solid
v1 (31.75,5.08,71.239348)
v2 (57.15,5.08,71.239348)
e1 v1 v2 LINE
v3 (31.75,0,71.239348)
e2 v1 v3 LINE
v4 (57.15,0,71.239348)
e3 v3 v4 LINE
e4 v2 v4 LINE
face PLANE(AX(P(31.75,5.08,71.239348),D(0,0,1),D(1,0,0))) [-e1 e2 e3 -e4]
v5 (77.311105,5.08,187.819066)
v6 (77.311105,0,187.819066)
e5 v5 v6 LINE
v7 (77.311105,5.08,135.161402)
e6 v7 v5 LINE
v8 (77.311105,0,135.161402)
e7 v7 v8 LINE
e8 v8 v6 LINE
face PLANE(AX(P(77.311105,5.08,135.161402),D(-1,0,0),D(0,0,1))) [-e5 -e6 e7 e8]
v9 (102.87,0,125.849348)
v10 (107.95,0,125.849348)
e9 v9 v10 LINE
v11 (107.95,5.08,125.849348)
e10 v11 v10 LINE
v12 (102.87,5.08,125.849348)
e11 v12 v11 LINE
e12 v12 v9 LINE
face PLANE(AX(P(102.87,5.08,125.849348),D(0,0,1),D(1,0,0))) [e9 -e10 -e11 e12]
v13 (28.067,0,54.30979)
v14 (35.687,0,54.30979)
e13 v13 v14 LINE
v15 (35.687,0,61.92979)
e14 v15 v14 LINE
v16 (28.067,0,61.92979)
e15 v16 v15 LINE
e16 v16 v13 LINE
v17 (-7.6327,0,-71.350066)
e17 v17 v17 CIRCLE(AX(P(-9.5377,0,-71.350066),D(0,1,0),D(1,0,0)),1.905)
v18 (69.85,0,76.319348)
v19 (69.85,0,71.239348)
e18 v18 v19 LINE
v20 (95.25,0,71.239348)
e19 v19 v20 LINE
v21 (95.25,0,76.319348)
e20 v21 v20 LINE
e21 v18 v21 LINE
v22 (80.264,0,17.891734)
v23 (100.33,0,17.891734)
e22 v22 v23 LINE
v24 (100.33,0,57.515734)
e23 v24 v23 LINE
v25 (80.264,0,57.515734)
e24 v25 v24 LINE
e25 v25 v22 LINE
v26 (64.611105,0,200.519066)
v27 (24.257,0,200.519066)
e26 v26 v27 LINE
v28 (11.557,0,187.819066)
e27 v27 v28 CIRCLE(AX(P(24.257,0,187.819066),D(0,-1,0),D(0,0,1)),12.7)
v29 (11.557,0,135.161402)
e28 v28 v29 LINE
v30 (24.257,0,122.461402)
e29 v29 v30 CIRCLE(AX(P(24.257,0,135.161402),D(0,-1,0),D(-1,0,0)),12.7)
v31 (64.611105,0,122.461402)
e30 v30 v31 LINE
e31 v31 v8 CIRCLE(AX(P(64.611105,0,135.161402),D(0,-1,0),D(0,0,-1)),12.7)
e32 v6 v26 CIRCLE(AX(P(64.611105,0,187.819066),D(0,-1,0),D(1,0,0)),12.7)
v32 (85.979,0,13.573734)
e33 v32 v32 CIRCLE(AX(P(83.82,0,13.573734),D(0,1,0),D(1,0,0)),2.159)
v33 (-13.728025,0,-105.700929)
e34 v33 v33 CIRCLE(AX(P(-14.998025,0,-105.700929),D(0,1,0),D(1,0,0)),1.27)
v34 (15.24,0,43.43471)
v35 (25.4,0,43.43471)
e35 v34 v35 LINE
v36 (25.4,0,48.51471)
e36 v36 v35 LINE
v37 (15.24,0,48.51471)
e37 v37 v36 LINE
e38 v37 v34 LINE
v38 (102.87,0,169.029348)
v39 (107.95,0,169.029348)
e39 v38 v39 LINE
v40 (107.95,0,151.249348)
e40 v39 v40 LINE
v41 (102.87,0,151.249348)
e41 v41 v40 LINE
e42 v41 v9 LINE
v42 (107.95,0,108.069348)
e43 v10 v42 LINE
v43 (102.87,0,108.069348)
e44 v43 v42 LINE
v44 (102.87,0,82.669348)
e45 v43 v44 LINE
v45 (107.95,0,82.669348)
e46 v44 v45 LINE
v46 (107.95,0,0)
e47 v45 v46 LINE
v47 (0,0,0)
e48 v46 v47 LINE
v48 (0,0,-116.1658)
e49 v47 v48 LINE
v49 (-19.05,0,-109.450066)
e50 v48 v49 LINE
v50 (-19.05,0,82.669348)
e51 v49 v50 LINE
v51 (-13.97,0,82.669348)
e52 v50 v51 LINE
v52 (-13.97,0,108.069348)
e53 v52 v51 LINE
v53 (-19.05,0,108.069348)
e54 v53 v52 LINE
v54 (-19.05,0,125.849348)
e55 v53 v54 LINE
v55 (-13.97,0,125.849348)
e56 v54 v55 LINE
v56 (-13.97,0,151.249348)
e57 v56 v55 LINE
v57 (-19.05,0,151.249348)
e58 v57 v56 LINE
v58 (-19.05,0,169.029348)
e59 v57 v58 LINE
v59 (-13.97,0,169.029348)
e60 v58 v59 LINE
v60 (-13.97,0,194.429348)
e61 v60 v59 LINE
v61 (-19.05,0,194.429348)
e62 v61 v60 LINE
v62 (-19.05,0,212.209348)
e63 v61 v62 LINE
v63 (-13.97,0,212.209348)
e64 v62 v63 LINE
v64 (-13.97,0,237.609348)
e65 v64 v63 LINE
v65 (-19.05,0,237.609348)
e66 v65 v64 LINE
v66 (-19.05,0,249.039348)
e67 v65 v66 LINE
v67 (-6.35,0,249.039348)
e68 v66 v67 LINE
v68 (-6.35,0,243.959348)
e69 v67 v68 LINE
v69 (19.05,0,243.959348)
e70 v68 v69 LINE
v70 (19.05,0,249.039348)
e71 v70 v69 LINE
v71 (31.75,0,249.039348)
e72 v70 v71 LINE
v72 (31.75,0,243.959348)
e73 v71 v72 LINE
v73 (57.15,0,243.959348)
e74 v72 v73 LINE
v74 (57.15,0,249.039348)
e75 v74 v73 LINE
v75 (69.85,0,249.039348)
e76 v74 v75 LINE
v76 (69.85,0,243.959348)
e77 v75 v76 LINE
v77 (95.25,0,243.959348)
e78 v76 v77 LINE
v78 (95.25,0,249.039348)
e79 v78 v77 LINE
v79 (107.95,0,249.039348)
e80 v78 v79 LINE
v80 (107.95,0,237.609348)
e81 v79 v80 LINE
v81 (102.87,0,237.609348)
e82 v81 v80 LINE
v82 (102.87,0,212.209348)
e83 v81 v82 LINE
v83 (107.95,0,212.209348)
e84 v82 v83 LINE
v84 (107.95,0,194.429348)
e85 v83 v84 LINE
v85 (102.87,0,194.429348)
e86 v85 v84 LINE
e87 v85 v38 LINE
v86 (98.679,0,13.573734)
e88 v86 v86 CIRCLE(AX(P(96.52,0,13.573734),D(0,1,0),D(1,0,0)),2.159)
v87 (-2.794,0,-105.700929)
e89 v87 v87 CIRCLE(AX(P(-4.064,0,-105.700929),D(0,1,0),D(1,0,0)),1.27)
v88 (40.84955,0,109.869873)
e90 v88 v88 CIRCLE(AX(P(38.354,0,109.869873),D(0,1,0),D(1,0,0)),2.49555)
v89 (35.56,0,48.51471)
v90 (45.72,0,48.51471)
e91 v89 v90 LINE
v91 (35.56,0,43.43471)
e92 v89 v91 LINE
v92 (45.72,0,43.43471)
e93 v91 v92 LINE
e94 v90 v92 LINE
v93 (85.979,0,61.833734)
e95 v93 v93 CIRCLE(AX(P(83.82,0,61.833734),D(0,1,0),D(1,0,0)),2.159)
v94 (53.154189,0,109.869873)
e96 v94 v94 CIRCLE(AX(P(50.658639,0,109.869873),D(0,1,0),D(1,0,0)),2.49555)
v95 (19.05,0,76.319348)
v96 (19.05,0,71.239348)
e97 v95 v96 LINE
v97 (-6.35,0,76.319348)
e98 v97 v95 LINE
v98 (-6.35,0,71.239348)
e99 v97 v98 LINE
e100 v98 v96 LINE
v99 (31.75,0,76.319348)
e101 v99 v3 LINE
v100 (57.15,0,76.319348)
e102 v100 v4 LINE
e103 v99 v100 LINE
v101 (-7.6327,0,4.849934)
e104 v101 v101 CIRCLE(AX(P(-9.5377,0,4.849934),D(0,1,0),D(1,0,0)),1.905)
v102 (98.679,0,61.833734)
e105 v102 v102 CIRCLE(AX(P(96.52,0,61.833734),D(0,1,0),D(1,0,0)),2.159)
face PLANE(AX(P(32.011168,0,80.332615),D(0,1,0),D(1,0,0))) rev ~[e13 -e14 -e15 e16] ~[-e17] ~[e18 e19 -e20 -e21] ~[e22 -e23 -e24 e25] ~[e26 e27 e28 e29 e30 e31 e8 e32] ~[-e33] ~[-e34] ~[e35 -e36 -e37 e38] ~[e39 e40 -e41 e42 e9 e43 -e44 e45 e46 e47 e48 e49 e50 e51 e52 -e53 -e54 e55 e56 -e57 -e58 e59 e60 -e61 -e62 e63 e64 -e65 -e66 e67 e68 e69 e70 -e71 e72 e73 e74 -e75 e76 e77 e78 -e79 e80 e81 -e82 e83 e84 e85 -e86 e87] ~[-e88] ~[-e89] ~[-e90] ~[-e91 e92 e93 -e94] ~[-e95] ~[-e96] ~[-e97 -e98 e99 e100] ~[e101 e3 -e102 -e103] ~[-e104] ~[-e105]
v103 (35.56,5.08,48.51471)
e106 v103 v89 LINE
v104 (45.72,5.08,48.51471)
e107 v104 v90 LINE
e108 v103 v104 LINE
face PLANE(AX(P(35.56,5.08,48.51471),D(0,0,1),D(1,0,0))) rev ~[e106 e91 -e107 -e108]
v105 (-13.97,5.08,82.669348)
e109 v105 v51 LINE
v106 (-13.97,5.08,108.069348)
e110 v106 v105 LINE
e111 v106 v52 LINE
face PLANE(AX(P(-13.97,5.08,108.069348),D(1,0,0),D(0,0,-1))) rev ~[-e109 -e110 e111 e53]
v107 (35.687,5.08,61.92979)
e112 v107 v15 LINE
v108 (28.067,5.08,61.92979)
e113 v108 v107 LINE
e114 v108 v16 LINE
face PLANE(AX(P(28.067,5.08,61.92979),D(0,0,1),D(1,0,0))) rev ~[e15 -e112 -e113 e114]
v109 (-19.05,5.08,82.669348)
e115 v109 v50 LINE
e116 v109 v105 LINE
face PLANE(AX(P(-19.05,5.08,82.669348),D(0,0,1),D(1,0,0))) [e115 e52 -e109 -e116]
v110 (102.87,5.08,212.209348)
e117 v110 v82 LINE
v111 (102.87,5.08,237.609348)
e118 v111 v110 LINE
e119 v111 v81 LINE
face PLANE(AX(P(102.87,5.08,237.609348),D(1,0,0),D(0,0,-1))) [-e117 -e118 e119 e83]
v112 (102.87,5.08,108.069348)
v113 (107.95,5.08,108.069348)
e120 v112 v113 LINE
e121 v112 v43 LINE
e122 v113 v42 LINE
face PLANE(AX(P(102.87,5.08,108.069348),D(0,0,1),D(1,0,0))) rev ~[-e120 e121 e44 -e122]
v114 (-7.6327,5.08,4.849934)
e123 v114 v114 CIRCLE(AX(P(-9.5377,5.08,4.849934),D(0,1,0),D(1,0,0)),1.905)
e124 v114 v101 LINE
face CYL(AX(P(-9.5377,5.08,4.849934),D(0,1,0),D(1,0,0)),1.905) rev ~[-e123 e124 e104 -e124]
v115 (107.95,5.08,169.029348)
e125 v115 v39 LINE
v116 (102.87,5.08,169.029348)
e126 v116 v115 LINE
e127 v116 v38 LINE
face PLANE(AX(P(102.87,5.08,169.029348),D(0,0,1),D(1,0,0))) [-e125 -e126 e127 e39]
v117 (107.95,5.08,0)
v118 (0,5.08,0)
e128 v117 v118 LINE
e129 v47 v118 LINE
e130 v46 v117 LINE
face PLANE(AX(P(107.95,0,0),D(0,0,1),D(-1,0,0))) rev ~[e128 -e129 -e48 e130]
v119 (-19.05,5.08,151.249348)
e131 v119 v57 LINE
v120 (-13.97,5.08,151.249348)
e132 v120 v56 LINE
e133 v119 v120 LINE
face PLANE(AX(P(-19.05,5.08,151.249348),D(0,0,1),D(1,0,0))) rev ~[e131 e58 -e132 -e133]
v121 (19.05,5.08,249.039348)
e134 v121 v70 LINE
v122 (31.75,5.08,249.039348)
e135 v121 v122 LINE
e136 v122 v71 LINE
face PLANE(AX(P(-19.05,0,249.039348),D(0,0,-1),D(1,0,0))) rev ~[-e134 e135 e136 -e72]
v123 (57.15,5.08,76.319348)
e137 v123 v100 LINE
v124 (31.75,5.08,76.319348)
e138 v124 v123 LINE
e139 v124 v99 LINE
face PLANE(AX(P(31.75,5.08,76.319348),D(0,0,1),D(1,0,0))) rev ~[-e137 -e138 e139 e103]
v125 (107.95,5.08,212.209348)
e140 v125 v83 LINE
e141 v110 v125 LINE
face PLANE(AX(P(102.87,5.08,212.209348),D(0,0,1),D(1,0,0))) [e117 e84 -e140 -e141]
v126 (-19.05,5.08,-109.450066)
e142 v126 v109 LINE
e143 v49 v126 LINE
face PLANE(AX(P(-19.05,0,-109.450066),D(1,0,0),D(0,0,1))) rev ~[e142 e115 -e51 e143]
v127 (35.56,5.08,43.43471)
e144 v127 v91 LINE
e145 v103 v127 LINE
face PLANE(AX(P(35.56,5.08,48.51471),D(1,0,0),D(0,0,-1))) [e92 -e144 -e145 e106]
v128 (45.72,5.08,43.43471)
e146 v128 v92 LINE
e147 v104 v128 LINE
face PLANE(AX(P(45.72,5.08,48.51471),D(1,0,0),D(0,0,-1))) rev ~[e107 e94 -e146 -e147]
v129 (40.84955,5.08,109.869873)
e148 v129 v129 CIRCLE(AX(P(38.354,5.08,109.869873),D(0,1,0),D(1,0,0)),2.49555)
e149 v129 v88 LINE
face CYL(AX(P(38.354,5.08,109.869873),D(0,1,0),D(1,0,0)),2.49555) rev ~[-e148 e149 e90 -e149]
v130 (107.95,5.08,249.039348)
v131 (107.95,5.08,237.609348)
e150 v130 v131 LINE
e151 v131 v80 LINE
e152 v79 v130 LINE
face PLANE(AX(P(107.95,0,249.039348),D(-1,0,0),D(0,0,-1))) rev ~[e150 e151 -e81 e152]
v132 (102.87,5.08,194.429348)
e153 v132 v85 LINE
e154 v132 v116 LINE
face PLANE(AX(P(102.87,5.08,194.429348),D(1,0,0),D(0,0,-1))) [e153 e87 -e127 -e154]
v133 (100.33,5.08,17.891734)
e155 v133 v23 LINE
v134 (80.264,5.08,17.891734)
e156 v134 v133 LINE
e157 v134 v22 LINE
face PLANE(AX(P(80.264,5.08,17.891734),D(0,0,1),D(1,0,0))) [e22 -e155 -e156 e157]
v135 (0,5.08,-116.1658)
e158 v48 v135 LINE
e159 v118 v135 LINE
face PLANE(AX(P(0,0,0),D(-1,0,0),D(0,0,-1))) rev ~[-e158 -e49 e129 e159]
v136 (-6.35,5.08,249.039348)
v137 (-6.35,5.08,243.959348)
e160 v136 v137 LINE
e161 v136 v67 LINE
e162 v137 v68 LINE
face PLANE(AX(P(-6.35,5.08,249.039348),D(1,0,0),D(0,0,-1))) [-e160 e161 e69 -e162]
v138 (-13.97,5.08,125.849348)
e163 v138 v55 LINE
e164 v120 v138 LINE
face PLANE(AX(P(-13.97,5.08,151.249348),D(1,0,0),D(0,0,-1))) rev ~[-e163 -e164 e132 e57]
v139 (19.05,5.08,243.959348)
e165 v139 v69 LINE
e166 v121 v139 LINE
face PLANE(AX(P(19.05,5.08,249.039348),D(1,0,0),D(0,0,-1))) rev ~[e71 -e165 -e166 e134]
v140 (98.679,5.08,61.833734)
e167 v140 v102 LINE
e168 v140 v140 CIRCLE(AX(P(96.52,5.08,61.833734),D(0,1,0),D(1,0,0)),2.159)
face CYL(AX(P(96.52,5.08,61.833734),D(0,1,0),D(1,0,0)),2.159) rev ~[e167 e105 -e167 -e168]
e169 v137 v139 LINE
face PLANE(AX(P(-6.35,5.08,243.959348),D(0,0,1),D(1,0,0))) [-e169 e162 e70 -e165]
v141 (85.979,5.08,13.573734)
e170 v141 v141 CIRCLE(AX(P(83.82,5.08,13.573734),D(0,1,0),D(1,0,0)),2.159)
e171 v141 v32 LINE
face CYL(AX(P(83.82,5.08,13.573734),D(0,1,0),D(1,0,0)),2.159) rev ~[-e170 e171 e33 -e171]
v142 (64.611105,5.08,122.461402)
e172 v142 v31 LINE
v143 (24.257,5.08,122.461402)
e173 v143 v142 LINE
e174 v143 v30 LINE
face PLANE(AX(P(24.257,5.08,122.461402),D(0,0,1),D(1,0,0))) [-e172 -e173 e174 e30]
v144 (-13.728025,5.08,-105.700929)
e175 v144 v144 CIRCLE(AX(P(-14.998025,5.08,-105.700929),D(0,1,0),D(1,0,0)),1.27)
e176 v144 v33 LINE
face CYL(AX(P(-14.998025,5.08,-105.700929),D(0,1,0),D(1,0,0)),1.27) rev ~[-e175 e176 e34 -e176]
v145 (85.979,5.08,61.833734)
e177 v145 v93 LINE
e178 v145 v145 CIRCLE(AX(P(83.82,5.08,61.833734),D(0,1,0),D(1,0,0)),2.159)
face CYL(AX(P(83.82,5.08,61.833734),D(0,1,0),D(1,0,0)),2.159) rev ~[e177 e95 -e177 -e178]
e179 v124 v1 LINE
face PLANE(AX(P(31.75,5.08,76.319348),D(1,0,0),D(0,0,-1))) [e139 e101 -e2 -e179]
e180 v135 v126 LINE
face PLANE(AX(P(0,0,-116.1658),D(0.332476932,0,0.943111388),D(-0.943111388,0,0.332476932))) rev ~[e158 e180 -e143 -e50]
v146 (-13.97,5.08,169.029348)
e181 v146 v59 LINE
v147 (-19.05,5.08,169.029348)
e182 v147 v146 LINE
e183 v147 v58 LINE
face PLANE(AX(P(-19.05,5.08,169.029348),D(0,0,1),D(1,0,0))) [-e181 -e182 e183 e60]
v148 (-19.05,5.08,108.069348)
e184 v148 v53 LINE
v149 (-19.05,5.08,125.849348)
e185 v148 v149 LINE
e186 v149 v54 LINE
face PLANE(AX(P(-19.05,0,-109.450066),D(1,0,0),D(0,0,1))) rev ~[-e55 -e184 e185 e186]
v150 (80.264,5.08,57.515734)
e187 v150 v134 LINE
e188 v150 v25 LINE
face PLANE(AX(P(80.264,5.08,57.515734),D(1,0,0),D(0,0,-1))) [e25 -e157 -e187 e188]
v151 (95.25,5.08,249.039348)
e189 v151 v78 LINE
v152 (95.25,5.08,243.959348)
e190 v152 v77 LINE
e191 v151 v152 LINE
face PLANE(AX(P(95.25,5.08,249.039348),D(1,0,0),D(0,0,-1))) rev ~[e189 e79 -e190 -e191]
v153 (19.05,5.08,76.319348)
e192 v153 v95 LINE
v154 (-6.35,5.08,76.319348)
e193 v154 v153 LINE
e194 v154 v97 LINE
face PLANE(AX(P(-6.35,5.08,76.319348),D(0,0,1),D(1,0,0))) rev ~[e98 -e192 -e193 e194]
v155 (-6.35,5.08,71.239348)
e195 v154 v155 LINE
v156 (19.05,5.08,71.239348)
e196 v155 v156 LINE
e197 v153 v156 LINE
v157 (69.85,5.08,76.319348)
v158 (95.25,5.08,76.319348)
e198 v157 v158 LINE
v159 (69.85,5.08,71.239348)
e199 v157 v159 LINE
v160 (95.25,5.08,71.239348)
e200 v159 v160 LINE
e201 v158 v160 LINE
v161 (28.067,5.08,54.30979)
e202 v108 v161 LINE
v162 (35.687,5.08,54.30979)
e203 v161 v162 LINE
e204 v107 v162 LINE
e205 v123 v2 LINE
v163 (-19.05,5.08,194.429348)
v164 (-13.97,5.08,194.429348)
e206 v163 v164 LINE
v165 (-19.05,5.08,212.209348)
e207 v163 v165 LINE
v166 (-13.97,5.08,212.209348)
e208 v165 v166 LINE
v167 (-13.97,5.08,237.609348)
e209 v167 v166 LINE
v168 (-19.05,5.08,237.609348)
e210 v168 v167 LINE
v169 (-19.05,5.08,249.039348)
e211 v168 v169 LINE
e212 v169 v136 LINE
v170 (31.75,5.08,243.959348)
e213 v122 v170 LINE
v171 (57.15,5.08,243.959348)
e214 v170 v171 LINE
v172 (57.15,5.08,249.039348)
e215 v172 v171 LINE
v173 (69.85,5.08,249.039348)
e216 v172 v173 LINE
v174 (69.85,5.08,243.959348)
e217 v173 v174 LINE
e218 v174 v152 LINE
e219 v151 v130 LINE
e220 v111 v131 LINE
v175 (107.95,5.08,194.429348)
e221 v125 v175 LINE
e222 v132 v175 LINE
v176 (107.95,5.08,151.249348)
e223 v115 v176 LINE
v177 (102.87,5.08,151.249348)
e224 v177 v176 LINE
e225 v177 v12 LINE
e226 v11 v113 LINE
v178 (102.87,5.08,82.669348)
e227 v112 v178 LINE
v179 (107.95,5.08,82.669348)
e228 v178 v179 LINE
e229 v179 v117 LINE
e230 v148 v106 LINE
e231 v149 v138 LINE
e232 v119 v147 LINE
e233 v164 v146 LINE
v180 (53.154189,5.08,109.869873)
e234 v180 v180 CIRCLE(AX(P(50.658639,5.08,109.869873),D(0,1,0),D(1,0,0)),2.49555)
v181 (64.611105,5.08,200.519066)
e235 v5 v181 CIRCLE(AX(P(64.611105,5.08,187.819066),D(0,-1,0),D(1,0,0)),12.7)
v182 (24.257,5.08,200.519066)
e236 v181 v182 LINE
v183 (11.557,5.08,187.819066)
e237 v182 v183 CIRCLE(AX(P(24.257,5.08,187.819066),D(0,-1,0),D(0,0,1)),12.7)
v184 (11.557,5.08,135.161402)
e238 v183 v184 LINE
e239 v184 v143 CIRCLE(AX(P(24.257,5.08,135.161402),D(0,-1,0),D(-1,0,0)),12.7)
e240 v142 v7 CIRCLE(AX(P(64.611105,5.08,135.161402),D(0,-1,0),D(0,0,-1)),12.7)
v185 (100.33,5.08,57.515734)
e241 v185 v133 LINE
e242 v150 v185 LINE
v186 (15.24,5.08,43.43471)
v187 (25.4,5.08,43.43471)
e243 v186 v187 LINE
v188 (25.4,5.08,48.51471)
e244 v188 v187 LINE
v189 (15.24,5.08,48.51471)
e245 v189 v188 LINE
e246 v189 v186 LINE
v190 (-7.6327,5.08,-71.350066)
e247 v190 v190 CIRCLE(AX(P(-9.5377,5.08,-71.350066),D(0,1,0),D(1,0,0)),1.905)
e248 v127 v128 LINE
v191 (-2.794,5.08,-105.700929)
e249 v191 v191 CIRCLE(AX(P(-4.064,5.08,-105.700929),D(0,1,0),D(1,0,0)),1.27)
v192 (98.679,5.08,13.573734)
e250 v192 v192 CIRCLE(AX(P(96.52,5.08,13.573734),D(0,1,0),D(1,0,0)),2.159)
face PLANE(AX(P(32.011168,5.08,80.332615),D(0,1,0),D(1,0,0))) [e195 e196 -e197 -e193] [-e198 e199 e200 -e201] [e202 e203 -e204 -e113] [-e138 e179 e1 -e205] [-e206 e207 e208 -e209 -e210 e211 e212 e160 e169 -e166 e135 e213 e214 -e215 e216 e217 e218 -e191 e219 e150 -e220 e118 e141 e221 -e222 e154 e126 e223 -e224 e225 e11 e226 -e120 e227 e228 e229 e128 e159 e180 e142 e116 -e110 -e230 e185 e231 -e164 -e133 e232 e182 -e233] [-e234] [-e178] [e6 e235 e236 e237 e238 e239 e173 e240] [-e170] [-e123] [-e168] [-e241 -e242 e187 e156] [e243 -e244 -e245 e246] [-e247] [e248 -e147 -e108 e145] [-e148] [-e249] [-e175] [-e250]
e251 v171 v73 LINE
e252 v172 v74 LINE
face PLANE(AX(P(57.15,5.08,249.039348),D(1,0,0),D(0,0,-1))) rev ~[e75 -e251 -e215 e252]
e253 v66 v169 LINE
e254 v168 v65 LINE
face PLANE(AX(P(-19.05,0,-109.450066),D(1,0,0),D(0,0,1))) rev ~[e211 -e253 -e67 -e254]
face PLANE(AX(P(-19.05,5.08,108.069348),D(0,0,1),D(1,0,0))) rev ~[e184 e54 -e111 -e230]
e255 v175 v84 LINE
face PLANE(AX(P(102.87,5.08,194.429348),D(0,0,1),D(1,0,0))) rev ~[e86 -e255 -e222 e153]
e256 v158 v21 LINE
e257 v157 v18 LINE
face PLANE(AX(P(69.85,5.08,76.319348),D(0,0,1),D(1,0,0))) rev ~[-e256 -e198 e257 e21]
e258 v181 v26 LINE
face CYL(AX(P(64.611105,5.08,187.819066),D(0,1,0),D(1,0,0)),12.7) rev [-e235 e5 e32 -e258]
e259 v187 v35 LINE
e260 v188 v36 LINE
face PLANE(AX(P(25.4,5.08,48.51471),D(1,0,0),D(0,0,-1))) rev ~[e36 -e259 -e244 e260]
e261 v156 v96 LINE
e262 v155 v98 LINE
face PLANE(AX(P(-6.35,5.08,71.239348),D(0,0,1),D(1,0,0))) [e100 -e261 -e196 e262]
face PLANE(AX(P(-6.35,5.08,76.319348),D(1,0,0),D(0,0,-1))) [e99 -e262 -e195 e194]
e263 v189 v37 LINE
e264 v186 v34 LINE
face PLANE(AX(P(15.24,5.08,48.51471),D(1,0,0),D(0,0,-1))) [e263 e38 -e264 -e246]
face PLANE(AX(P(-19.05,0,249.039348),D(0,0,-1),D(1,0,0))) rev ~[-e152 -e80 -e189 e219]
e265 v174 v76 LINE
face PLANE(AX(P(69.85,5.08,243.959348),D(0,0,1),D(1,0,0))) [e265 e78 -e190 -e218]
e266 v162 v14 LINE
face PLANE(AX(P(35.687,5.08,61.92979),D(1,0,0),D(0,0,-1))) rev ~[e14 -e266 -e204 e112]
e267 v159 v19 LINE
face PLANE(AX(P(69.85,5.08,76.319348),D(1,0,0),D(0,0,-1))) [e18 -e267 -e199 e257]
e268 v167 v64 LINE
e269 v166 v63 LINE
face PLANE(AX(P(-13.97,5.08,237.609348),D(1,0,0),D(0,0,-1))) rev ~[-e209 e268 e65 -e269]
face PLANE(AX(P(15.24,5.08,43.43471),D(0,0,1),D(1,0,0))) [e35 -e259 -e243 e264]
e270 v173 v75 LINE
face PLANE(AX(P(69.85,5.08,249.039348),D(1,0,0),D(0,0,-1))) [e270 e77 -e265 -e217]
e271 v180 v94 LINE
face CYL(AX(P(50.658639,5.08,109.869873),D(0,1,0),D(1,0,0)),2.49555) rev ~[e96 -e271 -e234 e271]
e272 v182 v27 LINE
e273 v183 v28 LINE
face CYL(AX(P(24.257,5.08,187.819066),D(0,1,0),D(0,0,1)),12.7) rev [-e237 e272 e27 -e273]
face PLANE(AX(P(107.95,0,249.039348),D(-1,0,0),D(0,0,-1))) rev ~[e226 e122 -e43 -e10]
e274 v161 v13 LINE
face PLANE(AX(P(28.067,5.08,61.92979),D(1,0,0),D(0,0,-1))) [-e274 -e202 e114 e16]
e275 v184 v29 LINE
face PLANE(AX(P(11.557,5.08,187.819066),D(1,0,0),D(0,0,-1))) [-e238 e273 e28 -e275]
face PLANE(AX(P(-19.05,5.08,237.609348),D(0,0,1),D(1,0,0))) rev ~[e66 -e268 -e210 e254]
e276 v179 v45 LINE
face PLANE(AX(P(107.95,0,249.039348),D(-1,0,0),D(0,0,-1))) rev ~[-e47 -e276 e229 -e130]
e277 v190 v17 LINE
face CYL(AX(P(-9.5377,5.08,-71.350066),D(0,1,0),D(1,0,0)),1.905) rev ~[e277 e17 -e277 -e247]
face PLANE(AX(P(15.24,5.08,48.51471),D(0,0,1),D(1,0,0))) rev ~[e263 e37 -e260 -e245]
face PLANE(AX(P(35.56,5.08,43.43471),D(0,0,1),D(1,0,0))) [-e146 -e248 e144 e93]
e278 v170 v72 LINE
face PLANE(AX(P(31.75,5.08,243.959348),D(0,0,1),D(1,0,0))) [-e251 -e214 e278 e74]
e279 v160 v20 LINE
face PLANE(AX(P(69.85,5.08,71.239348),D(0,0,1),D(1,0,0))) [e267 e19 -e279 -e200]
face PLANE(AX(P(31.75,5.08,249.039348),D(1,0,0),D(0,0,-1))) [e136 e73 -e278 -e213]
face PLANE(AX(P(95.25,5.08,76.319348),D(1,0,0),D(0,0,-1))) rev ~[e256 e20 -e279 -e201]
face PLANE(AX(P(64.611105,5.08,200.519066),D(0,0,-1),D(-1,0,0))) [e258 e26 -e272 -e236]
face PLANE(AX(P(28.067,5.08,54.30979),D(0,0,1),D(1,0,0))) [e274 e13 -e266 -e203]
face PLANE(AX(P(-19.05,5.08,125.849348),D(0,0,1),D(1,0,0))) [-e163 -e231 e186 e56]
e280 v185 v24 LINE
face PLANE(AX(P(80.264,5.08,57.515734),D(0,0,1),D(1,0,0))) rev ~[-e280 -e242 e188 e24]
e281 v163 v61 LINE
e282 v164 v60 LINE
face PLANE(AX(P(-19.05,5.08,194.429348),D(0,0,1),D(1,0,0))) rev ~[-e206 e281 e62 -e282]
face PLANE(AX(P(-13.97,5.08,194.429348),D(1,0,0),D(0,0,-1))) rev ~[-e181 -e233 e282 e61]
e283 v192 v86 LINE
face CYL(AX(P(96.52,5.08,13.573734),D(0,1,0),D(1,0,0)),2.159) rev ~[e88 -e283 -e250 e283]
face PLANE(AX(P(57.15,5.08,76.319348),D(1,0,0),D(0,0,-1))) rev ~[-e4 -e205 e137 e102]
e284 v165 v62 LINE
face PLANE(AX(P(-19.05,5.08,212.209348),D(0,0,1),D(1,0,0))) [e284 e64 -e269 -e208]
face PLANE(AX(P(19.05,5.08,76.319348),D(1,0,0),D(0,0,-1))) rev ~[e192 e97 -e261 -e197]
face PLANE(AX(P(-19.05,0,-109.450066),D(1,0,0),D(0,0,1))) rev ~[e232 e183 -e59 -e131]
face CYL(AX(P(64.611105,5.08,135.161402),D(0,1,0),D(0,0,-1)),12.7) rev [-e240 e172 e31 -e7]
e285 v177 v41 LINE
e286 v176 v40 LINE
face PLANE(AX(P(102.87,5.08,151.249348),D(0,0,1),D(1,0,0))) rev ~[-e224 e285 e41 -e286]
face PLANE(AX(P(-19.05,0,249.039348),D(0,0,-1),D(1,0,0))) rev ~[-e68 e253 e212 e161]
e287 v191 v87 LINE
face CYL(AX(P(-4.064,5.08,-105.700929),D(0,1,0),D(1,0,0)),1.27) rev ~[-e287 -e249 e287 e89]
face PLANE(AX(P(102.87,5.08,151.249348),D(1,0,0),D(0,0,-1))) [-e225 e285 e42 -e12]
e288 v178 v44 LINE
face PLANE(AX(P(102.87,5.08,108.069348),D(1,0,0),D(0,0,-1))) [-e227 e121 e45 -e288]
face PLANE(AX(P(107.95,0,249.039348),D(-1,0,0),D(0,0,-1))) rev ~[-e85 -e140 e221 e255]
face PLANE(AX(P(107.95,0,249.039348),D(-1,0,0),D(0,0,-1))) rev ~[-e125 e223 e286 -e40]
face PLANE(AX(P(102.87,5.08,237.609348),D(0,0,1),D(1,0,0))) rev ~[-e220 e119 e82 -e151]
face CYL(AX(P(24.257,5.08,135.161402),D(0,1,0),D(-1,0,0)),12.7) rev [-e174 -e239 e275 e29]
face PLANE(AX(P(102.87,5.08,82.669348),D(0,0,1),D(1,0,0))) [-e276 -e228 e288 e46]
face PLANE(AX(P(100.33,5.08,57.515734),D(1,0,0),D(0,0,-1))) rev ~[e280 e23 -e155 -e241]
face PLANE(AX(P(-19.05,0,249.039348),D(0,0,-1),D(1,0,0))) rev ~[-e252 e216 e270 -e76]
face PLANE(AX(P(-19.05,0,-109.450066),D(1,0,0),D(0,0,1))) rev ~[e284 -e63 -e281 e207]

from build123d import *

# Parameters (mm, degrees)
BOSS_EXTRUDE1_DEPTH = 5.08
SKETCH3_W           = 20.066
SKETCH3_H           = 39.624
CUT_EXTRUDE1_DEPTH  = 5.08
SKETCH4_R           = 2.159
CUT_EXTRUDE2_DEPTH  = 5.08
CUT_EXTRUDE3_DEPTH  = 5.08
SKETCH6_W           = 5.08
SKETCH6_H           = 25.4
CUT_EXTRUDE4_DEPTH  = 5.08
SKETCH7_W           = 5.08
SKETCH7_H           = 25.4
CUT_EXTRUDE5_DEPTH  = 5.08
SKETCH8_W           = 5.08
SKETCH8_H           = 25.4
CUT_EXTRUDE6_DEPTH  = 5.08
SKETCH9_W           = 5.08
SKETCH9_H           = 25.4
CUT_EXTRUDE7_DEPTH  = 5.08
SKETCH10_W          = 25.4
SKETCH10_H          = 5.08
CUT_EXTRUDE8_DEPTH  = 5.08
SKETCH11_W          = 25.4
SKETCH11_H          = 5.08
CUT_EXTRUDE9_DEPTH  = 5.08
SKETCH12_R          = 1.27
CUT_EXTRUDE10_DEPTH = 5.08
SKETCH13_W          = 10.16
SKETCH13_H          = 5.08
CUT_EXTRUDE11_DEPTH = 5.08
SKETCH14_W          = 7.62
SKETCH14_H          = 7.62
CUT_EXTRUDE12_DEPTH = 5.08
SKETCH15_R          = 1.905
CUT_EXTRUDE13_DEPTH = 5.08
SKETCH16_R          = 2.49555
CUT_EXTRUDE14_DEPTH = 5.08


with BuildPart() as part:
    # Sketch2 → Boss-Extrude1 (new body)
    with BuildSketch(Plane(origin=(0, 0, 0), x_dir=(1, 0, 0), z_dir=(0, 1, 0))):
        Polygon((-19.05, -71.23934806), (-19.05, -249.03934806), (107.95, -249.03934806), (107.95, -60.96), (107.95, 0), (0, 0), (0, 65.786), (0, 97.473109619), (0, 116.165799875), (-19.05, 109.450065503), align=None)
    extrude(amount=BOSS_EXTRUDE1_DEPTH)

    # Sketch3 → Cut-Extrude1 (cut)
    with BuildSketch(Plane(origin=(0, 5.08, 0), x_dir=(1, 0, 0), z_dir=(0, 1, 0))):
        with Locations((90.297, -37.703734372)):
            Rectangle(SKETCH3_W, SKETCH3_H)
    extrude(amount=-CUT_EXTRUDE1_DEPTH, mode=Mode.SUBTRACT)

    # Sketch4 → Cut-Extrude2 (cut)
    with BuildSketch(Plane(origin=(0, 5.08, 0), x_dir=(1, 0, 0), z_dir=(0, 1, 0))):
        with Locations((83.82, -13.573734372)):
            Circle(SKETCH4_R)
        with Locations((96.52, -13.573734372)):
            Circle(SKETCH4_R)
        with Locations((83.82, -61.833734372)):
            Circle(SKETCH4_R)
        with Locations((96.52, -61.833734372)):
            Circle(SKETCH4_R)
    extrude(amount=-CUT_EXTRUDE2_DEPTH, mode=Mode.SUBTRACT)

    # Sketch5 → Cut-Extrude3 (cut)
    with BuildSketch(Plane(origin=(0, 5.08, 0), x_dir=(1, 0, 0), z_dir=(0, 1, 0))):
        with BuildLine():
            Line((24.257, -122.461402467), (64.611105155, -122.461402467))
            ThreePointArc((64.611105155, -122.461402467), (73.591361276, -126.181146346), (77.311105155, -135.161402467))
            Line((77.311105155, -135.161402467), (77.311105155, -187.819065756))
            ThreePointArc((77.311105155, -187.819065756), (73.591361276, -196.799321877), (64.611105155, -200.519065756))
            Line((64.611105155, -200.519065756), (24.257, -200.519065756))
            ThreePointArc((24.257, -200.519065756), (15.276743879, -196.799321877), (11.557, -187.819065756))
            Line((11.557, -187.819065756), (11.557, -135.161402467))
            ThreePointArc((11.557, -135.161402467), (15.276743879, -126.181146346), (24.257, -122.461402467))
        make_face()
    extrude(amount=-CUT_EXTRUDE3_DEPTH, mode=Mode.SUBTRACT)

    # Sketch6 → Cut-Extrude4 (cut)
    with BuildSketch(Plane(origin=(0, 5.08, 0), x_dir=(1, 0, 0), z_dir=(0, 1, 0))):
        with Locations((105.41, -224.90934806)):
            Rectangle(SKETCH6_W, SKETCH6_H)
    extrude(amount=-CUT_EXTRUDE4_DEPTH, mode=Mode.SUBTRACT)

    # Sketch7 → Cut-Extrude5 (cut)
    with BuildSketch(Plane(origin=(0, 5.08, 0), x_dir=(1, 0, 0), z_dir=(0, 1, 0))):
        with Locations((105.41, -181.72934806)):
            Rectangle(SKETCH7_W, SKETCH7_H)
    extrude(amount=-CUT_EXTRUDE5_DEPTH, mode=Mode.SUBTRACT)

    # Sketch8 → Cut-Extrude6 (cut)
    with BuildSketch(Plane(origin=(0, 5.08, 0), x_dir=(1, 0, 0), z_dir=(0, 1, 0))):
        with Locations((105.41, -138.54934806)):
            Rectangle(SKETCH8_W, SKETCH8_H)
        with Locations((105.41, -95.36934806)):
            Rectangle(SKETCH8_W, SKETCH8_H)
    extrude(amount=-CUT_EXTRUDE6_DEPTH, mode=Mode.SUBTRACT)

    # Sketch9 → Cut-Extrude7 (cut)
    with BuildSketch(Plane(origin=(0, 5.08, 0), x_dir=(1, 0, 0), z_dir=(0, 1, 0))):
        with Locations((-16.51, -224.90934806)):
            Rectangle(SKETCH9_W, SKETCH9_H)
        with Locations((-16.51, -181.72934806)):
            Rectangle(SKETCH9_W, SKETCH9_H)
        with Locations((-16.51, -138.54934806)):
            Rectangle(SKETCH9_W, SKETCH9_H)
        with Locations((-16.51, -95.36934806)):
            Rectangle(SKETCH9_W, SKETCH9_H)
    extrude(amount=-CUT_EXTRUDE7_DEPTH, mode=Mode.SUBTRACT)

    # Sketch10 → Cut-Extrude8 (cut)
    with BuildSketch(Plane(origin=(0, 5.08, 0), x_dir=(1, 0, 0), z_dir=(0, 1, 0))):
        with Locations((6.35, -73.77934806)):
            Rectangle(SKETCH10_W, SKETCH10_H)
        with Locations((44.45, -73.77934806)):
            Rectangle(SKETCH10_W, SKETCH10_H)
        with Locations((82.55, -73.77934806)):
            Rectangle(SKETCH10_W, SKETCH10_H)
    extrude(amount=-CUT_EXTRUDE8_DEPTH, mode=Mode.SUBTRACT)

    # Sketch11 → Cut-Extrude9 (cut)
    with BuildSketch(Plane(origin=(0, 5.08, 0), x_dir=(1, 0, 0), z_dir=(0, 1, 0))):
        with Locations((6.35, -246.49934806)):
            Rectangle(SKETCH11_W, SKETCH11_H)
        with Locations((44.45, -246.49934806)):
            Rectangle(SKETCH11_W, SKETCH11_H)
        with Locations((82.55, -246.49934806)):
            Rectangle(SKETCH11_W, SKETCH11_H)
    extrude(amount=-CUT_EXTRUDE9_DEPTH, mode=Mode.SUBTRACT)

    # Sketch12 → Cut-Extrude10 (cut)
    with BuildSketch(Plane(origin=(0, 5.08, 0), x_dir=(1, 0, 0), z_dir=(0, 1, 0))):
        with Locations((-14.998025324, 105.700929136)):
            Circle(SKETCH12_R)
        with Locations((-4.064, 105.700929136)):
            Circle(SKETCH12_R)
    extrude(amount=-CUT_EXTRUDE10_DEPTH, mode=Mode.SUBTRACT)

    # Sketch13 → Cut-Extrude11 (cut)
    with BuildSketch(Plane(origin=(0, 5.08, 0), x_dir=(1, 0, 0), z_dir=(0, 1, 0))):
        with Locations((20.32, -45.974710139)):
            Rectangle(SKETCH13_W, SKETCH13_H)
        with Locations((40.64, -45.974710139)):
            Rectangle(SKETCH13_W, SKETCH13_H)
    extrude(amount=-CUT_EXTRUDE11_DEPTH, mode=Mode.SUBTRACT)

    # Sketch14 → Cut-Extrude12 (cut)
    with BuildSketch(Plane(origin=(0, 5.08, 0), x_dir=(1, 0, 0), z_dir=(0, 1, 0))):
        with Locations((31.877, -58.119790423)):
            Rectangle(SKETCH14_W, SKETCH14_H)
    extrude(amount=-CUT_EXTRUDE12_DEPTH, mode=Mode.SUBTRACT)

    # Sketch15 → Cut-Extrude13 (cut)
    with BuildSketch(Plane(origin=(0, 5.08, 0), x_dir=(1, 0, 0), z_dir=(0, 1, 0))):
        with Locations((-9.5377, 71.350065503)):
            Circle(SKETCH15_R)
        with Locations((-9.5377, -4.849934497)):
            Circle(SKETCH15_R)
    extrude(amount=-CUT_EXTRUDE13_DEPTH, mode=Mode.SUBTRACT)

    # Sketch16 → Cut-Extrude14 (cut)
    with BuildSketch(Plane(origin=(0, 5.08, 0), x_dir=(1, 0, 0), z_dir=(0, 1, 0))):
        with Locations((38.354, -109.869872905)):
            Circle(SKETCH16_R)
        with Locations((50.658638695, -109.869872905)):
            Circle(SKETCH16_R)
    extrude(amount=-CUT_EXTRUDE14_DEPTH, mode=Mode.SUBTRACT)


solid = part.part
